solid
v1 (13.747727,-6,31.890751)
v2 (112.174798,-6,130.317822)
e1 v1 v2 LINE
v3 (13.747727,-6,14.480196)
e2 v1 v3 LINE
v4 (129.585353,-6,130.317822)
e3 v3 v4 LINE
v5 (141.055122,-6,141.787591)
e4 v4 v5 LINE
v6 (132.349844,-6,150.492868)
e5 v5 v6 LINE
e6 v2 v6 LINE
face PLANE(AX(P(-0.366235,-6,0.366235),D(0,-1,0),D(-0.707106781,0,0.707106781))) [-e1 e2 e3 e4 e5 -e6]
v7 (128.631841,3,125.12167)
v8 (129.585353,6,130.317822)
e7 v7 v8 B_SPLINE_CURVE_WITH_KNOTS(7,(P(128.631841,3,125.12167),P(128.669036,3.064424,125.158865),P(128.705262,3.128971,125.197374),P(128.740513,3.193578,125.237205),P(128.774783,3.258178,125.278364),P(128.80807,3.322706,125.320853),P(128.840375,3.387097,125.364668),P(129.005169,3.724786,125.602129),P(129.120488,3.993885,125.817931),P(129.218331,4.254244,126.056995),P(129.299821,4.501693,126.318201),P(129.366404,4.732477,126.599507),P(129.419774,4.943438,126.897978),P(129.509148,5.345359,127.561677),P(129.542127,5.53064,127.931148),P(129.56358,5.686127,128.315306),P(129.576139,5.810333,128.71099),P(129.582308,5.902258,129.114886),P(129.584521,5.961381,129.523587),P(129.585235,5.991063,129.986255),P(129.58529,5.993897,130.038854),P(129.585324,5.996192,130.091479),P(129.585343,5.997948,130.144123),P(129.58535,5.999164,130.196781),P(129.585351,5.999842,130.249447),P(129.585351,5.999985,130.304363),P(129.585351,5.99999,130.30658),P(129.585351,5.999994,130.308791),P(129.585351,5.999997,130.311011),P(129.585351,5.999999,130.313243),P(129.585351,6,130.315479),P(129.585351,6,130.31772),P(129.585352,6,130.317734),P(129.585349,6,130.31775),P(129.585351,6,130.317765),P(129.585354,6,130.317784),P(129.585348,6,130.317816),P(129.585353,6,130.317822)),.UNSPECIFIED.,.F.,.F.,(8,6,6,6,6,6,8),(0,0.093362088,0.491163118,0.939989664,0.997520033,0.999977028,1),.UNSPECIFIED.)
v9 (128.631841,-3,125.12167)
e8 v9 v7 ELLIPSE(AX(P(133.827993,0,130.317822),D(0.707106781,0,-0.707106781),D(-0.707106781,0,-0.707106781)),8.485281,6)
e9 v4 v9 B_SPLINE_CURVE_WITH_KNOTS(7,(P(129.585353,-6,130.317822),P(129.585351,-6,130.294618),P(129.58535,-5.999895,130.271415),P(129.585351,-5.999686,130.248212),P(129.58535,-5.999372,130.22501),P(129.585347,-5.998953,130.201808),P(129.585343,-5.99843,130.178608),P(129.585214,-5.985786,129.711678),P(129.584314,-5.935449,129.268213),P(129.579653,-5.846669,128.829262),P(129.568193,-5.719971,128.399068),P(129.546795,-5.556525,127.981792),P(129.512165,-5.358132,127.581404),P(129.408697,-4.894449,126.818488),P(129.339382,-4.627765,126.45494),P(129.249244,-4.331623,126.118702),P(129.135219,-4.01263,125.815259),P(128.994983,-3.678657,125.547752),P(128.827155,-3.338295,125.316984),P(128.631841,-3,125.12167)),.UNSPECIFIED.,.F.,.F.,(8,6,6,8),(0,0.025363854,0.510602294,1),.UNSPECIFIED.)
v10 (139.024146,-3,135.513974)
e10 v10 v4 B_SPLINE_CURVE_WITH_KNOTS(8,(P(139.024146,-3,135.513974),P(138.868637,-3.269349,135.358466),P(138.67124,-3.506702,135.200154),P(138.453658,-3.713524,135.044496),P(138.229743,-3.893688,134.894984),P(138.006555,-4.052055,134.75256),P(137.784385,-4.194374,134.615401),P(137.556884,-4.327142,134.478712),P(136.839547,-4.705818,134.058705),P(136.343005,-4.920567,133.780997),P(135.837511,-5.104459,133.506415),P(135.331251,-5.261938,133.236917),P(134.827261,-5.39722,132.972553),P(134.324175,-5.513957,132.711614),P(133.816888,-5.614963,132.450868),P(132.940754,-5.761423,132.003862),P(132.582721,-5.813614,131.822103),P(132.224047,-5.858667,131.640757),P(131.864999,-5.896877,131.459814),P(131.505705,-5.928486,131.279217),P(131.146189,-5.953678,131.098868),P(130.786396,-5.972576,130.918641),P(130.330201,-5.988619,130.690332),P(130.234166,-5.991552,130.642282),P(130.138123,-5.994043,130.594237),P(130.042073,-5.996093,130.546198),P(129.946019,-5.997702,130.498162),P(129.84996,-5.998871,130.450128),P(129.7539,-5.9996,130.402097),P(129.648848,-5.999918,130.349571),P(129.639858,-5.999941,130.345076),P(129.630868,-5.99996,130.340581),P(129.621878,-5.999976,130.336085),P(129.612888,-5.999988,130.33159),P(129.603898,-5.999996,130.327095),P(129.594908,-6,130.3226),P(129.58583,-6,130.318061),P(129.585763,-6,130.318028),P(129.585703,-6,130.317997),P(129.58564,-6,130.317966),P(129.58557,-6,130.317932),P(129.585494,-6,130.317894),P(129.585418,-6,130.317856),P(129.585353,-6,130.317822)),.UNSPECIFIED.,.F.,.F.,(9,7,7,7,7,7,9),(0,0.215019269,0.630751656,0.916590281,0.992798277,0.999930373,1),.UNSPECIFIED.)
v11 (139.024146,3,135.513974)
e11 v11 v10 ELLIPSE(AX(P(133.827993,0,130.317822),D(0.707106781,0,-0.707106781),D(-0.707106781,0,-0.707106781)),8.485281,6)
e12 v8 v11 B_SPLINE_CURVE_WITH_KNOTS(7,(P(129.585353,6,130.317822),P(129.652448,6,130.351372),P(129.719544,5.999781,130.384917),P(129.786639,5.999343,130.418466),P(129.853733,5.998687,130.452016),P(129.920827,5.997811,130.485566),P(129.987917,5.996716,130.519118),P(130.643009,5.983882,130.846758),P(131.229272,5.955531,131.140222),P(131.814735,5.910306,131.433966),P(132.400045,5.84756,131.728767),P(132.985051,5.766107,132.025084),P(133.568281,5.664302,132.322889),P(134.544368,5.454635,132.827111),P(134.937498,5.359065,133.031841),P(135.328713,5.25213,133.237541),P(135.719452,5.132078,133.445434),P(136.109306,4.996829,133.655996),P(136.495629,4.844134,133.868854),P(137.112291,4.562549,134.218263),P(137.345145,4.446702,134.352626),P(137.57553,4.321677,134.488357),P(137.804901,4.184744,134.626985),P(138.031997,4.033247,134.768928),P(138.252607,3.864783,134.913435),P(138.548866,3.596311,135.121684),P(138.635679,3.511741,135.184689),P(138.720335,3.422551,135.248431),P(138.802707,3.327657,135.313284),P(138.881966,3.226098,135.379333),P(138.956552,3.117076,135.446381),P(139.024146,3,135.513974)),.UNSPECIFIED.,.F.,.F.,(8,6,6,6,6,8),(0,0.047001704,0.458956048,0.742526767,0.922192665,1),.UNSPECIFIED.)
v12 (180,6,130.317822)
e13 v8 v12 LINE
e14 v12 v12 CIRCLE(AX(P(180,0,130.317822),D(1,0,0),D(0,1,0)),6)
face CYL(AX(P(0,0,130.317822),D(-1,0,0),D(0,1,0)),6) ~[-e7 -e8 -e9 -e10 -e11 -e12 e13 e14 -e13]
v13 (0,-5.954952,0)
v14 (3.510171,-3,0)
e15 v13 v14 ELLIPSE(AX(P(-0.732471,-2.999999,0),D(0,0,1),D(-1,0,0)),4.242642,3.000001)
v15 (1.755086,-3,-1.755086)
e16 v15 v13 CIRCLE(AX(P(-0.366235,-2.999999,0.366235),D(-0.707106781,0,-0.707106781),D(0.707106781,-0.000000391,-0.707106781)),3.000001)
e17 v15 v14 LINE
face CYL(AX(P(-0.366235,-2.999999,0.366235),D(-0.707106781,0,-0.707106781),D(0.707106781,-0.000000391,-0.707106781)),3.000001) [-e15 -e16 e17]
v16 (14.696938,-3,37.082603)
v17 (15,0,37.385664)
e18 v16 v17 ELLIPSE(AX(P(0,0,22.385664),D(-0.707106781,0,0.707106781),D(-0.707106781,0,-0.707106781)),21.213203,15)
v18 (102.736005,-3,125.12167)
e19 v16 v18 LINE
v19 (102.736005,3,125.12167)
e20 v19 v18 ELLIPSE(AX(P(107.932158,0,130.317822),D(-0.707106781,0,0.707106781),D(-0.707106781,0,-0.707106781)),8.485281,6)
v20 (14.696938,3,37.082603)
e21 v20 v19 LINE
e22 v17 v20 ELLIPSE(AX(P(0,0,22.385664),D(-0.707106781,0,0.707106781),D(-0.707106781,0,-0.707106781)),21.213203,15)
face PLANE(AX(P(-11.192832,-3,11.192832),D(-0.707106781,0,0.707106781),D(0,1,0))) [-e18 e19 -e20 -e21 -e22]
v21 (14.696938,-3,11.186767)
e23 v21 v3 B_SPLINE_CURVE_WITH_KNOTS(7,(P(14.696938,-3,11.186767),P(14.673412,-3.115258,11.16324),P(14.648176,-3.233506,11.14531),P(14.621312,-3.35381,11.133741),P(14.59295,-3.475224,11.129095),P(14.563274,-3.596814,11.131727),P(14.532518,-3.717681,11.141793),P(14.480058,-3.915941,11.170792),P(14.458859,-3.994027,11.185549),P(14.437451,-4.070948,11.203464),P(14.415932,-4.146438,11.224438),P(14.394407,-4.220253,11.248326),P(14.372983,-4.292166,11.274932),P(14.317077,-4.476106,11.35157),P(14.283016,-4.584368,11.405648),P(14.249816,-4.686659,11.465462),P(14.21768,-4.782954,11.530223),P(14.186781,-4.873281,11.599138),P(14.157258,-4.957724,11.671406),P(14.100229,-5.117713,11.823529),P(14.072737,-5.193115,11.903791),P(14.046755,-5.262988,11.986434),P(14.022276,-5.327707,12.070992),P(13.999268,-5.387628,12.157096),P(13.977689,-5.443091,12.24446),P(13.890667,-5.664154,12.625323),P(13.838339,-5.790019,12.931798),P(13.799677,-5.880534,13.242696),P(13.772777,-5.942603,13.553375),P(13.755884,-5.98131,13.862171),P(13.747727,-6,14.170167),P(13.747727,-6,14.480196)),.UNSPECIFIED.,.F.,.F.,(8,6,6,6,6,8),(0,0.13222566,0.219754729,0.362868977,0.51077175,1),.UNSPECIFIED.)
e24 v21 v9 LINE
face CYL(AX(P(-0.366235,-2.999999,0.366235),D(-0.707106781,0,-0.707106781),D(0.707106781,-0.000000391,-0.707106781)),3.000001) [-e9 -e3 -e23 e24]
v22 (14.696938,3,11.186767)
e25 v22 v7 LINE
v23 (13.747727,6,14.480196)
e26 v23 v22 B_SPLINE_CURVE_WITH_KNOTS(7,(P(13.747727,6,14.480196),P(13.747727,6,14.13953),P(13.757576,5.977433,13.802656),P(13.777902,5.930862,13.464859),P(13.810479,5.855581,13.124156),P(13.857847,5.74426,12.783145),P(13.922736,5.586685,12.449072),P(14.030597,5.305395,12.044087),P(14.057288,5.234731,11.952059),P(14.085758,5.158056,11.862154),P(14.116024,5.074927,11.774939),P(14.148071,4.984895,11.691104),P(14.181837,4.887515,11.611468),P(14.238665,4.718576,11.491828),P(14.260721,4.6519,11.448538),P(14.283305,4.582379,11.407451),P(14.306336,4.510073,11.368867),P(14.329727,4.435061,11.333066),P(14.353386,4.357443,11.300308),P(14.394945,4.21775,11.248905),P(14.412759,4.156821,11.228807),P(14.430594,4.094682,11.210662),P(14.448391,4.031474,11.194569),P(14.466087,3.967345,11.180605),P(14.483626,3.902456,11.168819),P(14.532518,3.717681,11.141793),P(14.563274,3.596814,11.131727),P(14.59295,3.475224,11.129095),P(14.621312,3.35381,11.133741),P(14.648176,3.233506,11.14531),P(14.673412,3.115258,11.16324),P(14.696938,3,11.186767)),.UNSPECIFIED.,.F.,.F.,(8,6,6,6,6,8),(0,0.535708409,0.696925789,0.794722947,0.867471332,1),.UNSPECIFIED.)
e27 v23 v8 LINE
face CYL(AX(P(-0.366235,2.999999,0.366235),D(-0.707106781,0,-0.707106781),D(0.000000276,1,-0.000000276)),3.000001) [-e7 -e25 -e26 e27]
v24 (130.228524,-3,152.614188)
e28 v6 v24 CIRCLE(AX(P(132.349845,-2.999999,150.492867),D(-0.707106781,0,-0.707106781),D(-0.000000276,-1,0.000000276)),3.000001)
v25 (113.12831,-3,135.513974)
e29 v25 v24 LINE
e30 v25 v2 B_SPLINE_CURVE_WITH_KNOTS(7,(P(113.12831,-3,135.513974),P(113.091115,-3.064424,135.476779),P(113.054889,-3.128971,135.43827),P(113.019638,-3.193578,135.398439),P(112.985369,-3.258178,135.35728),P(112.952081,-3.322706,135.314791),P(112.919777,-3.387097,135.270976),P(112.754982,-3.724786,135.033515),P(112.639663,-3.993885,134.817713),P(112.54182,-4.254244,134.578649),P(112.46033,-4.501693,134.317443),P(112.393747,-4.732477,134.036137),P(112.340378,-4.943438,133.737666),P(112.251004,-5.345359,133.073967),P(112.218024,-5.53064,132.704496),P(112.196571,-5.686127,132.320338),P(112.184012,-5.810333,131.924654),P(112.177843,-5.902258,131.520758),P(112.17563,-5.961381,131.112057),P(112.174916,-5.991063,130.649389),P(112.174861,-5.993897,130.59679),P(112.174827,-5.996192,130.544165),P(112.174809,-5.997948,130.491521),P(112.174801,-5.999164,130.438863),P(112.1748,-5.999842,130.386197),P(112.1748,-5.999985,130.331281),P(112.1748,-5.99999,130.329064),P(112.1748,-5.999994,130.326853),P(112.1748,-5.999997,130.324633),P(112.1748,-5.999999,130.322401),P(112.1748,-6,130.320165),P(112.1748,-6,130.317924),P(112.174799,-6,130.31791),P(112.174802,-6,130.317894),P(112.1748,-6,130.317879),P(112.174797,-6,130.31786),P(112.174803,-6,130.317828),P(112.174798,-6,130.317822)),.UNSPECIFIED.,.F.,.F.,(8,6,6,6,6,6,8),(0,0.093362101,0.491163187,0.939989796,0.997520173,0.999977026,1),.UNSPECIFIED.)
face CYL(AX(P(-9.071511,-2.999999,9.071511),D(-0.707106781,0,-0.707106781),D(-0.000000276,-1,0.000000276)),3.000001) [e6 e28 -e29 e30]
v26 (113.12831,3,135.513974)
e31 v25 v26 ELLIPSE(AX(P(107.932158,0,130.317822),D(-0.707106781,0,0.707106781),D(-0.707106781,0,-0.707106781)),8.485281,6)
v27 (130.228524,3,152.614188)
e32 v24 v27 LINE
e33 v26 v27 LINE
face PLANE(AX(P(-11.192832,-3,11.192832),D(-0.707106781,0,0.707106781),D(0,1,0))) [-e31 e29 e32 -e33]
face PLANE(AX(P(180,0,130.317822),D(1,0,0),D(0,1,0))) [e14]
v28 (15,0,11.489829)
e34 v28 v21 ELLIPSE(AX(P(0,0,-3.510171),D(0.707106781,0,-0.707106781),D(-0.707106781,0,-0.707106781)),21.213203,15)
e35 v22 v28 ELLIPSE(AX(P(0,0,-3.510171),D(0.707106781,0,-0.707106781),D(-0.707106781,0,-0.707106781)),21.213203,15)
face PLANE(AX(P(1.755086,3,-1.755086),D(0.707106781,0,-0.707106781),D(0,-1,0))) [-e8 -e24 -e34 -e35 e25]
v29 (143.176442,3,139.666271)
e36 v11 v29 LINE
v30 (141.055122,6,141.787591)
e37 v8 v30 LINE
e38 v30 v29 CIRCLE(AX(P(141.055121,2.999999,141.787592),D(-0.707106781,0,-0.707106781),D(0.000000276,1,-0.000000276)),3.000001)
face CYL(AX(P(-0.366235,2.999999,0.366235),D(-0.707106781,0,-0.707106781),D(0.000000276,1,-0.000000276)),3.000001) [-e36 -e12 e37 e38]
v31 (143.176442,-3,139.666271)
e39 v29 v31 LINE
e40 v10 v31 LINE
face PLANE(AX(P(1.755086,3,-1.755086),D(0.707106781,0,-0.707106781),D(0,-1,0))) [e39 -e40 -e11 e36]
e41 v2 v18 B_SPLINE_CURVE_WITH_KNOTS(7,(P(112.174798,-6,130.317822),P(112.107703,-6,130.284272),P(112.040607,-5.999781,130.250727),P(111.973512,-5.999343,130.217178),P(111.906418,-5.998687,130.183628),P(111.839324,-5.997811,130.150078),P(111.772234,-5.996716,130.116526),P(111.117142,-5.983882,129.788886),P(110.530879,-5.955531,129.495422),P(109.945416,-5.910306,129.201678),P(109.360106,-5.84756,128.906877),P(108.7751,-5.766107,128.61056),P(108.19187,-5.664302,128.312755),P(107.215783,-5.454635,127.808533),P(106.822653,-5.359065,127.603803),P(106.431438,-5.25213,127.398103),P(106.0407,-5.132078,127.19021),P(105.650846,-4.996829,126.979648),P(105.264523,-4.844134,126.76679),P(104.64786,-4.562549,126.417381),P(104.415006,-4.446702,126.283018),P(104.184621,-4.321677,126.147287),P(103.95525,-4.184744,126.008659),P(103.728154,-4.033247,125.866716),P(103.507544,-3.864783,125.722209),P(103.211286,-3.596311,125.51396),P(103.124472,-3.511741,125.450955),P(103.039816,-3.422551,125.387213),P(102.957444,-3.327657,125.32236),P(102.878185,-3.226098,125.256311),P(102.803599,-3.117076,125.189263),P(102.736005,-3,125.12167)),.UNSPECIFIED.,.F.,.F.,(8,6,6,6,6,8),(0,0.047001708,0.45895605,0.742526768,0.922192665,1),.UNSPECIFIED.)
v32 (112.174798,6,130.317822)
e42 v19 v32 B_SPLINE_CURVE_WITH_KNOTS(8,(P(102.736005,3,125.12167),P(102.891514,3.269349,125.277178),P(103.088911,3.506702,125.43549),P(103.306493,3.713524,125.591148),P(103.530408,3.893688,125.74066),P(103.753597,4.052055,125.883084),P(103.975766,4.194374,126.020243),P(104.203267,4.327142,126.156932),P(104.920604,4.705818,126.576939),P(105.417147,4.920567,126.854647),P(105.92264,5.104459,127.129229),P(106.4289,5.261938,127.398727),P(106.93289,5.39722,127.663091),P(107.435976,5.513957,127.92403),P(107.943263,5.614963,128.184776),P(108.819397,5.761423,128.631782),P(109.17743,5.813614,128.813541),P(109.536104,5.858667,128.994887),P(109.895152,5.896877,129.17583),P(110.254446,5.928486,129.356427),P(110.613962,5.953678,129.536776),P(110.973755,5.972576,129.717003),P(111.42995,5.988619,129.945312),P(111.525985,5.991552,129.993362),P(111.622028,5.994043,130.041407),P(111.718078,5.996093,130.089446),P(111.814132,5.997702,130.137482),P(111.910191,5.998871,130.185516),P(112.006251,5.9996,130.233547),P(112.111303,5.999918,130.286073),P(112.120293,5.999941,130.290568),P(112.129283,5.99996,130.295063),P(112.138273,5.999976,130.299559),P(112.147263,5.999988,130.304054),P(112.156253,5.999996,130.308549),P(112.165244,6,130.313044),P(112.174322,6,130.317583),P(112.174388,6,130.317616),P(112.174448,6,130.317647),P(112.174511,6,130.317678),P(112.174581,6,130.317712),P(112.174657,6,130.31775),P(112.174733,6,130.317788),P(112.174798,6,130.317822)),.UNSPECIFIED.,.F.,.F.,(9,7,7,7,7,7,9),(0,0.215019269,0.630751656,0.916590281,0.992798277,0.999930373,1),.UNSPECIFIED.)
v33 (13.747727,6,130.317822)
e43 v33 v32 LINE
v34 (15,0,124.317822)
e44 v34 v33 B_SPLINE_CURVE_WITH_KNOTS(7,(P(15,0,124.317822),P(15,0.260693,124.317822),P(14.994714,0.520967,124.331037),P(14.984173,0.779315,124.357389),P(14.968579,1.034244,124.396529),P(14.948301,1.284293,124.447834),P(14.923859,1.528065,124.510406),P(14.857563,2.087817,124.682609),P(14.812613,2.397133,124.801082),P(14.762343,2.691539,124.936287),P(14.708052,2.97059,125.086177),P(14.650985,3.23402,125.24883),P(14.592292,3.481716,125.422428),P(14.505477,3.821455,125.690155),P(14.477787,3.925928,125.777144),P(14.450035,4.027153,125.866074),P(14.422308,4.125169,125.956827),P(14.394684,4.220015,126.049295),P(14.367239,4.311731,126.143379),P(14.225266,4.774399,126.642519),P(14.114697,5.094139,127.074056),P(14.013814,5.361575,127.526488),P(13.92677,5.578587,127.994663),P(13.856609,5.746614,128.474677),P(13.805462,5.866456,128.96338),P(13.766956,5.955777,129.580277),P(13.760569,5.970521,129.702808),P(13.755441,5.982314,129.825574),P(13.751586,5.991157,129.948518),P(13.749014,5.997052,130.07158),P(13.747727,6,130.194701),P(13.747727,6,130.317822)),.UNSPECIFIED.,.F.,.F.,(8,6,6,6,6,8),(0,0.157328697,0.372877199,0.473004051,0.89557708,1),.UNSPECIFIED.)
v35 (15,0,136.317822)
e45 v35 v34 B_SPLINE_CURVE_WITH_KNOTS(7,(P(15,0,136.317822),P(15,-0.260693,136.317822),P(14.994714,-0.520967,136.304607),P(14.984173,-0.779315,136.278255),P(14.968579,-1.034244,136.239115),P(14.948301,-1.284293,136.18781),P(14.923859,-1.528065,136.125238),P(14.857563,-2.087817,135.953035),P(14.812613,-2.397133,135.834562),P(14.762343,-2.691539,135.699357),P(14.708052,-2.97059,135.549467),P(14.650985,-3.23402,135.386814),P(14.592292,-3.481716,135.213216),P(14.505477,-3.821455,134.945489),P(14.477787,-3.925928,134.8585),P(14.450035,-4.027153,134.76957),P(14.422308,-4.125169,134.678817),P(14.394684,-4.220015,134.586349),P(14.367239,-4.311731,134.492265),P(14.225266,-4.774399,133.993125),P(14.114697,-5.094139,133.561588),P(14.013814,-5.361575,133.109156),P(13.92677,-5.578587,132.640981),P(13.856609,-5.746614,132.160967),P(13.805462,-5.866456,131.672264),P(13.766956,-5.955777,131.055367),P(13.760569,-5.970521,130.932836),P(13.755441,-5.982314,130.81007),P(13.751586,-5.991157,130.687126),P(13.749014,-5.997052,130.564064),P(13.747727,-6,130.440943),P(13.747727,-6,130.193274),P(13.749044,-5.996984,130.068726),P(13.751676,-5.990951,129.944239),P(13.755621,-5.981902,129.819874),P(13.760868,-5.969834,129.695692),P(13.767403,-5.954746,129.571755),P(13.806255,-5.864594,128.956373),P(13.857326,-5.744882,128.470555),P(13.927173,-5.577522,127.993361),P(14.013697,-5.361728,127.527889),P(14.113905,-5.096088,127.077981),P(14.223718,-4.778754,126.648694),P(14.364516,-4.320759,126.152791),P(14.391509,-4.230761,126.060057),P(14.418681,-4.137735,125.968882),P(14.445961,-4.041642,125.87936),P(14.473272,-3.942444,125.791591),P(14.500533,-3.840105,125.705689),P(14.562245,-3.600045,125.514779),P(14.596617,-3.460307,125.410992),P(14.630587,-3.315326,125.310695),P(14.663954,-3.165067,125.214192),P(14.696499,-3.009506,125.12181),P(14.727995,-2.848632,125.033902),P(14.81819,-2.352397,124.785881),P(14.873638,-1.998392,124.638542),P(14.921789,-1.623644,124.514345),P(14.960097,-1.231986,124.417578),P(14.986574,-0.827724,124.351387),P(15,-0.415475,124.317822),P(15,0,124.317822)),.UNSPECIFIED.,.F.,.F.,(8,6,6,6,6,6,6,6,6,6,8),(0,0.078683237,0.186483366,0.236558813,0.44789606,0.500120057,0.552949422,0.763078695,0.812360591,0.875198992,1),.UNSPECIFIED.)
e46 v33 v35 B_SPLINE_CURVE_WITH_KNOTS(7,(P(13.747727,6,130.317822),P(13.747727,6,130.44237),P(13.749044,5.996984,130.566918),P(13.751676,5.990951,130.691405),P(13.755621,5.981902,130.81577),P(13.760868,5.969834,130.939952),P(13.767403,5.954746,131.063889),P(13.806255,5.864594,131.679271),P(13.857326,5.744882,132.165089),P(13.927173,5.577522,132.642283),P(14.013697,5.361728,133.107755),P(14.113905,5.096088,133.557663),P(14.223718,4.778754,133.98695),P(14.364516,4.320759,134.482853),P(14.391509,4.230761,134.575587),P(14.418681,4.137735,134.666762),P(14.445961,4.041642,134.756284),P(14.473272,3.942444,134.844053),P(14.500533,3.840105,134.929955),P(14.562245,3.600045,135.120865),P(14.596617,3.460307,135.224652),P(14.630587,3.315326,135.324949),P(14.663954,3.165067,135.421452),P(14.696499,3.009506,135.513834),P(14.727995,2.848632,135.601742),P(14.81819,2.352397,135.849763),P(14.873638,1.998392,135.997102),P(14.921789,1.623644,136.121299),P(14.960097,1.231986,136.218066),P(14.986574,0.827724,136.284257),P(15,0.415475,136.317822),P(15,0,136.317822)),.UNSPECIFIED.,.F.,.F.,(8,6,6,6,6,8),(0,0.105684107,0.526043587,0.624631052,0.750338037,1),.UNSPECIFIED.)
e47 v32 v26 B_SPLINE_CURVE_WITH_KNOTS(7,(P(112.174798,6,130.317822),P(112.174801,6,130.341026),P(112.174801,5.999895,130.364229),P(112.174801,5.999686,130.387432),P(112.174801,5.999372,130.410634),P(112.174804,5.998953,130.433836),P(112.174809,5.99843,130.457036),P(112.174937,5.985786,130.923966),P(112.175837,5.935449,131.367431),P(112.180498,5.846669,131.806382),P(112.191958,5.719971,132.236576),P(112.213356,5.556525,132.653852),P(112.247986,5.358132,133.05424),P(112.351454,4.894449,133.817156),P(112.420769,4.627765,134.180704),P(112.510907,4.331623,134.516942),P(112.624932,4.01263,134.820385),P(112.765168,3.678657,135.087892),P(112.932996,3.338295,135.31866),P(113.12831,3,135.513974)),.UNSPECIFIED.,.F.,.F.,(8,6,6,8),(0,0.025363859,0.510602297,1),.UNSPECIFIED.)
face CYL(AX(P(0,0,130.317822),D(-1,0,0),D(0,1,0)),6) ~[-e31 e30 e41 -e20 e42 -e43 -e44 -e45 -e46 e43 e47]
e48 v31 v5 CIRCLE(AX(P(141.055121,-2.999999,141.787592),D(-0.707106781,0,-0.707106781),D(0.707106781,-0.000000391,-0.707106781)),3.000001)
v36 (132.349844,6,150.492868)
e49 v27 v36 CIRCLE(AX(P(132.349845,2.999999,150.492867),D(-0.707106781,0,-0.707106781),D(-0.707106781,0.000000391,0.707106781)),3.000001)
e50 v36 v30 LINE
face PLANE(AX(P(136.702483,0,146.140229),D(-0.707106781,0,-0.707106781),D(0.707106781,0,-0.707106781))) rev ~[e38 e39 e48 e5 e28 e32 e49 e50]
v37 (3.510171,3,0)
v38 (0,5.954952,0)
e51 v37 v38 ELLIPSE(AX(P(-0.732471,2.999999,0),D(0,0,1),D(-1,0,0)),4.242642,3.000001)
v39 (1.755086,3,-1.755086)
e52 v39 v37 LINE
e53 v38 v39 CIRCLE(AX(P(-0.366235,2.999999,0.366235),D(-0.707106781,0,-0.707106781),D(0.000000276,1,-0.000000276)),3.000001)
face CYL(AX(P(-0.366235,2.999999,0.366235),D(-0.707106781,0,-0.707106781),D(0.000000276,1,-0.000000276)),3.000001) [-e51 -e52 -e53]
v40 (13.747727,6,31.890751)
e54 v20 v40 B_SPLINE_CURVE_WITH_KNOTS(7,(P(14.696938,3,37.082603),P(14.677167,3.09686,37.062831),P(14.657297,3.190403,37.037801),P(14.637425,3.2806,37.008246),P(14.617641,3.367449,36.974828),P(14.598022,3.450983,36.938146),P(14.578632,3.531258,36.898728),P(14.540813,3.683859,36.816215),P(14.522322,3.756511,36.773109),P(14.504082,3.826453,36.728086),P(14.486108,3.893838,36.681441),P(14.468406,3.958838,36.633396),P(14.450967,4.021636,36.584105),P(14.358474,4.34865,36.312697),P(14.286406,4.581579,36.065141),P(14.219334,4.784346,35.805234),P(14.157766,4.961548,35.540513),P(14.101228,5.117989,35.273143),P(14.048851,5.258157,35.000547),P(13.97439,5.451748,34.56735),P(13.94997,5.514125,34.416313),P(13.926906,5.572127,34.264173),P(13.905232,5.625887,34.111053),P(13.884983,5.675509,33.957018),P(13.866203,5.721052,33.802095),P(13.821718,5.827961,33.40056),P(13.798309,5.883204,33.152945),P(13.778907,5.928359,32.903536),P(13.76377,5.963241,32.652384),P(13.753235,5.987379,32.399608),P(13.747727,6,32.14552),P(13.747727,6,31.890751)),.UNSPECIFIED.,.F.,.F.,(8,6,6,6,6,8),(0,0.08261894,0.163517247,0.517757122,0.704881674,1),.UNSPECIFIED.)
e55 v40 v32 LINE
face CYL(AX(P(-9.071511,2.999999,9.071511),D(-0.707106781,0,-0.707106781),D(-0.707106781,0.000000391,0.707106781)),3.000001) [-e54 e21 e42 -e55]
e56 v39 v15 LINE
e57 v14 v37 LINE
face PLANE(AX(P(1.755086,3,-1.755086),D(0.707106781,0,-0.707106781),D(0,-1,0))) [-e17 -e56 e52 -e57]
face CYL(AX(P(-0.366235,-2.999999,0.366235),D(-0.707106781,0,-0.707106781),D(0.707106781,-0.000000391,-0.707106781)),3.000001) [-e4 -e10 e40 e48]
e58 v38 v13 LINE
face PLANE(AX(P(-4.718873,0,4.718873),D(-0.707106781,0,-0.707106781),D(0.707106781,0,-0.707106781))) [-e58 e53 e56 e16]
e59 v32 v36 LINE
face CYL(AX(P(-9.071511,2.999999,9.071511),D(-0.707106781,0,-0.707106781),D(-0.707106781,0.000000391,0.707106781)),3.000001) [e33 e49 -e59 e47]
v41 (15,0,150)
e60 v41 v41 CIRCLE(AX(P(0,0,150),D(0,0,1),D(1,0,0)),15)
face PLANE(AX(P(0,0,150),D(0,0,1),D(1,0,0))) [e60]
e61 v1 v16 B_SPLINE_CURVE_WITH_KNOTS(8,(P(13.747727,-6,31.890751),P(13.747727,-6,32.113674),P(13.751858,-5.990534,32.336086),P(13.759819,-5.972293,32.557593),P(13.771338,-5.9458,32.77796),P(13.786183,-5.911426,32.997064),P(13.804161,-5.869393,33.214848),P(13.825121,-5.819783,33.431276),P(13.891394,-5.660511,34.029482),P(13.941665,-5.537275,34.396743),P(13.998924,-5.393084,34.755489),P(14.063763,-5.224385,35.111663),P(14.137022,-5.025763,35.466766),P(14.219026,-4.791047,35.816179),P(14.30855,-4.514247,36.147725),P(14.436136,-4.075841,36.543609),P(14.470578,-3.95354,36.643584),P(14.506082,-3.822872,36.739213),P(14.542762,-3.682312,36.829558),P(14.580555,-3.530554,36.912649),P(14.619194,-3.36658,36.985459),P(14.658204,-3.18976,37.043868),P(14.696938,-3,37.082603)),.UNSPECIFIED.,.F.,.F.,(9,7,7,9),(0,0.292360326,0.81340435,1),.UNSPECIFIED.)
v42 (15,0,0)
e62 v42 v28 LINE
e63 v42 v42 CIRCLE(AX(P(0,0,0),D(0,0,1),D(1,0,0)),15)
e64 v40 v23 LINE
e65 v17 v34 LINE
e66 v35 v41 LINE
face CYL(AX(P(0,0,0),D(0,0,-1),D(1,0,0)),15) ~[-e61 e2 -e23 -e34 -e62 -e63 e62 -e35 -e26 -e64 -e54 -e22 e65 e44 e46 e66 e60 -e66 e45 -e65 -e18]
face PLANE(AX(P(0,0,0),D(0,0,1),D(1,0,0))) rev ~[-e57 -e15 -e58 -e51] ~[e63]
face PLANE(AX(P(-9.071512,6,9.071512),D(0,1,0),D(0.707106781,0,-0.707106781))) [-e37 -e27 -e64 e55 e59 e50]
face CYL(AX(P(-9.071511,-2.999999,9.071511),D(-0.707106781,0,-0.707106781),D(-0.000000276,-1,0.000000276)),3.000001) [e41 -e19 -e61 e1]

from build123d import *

# Parameters (mm, degrees)
F0_R     = 15
F1_DEPTH = 150
F2_R     = 6
F3_DEPTH = 180
F7_DEPTH = 200


with BuildPart() as f1:
    # F0 (on Top) → F1 (new body)
    with BuildSketch(Plane.XY):
        Circle(F0_R)
    extrude(amount=F1_DEPTH)

    # F2 (on Right) → F3 (join)
    with BuildSketch(Plane.YZ):
        with Locations((0, 130.317822)):
            Circle(F2_R)
    extrude(amount=F3_DEPTH)

    # F6 (on face) → F7 (join)
    with BuildSketch(Plane(origin=(0, 0, 0), x_dir=(0.707107, 0, -0.707107), z_dir=(-0.707107, 0, -0.707107))):
        with BuildLine():
            Line((-0.517934, 6), (-12.829055, 6))
            ThreePointArc((-12.829055, 6), (-14.950375, 5.12132), (-15.829055, 3))
            Line((-15.829055, 3), (-15.829055, -3))
            ThreePointArc((-15.829055, -3), (-14.950375, -5.12132), (-12.829055, -6))
            Line((-12.829055, -6), (-0.517934, -6))
            ThreePointArc((-0.517934, -6), (1.603386, -5.12132), (2.482066, -3))
            Line((2.482066, -3), (2.482066, 3))
            ThreePointArc((2.482066, 3), (1.603386, 5.12132), (-0.517934, 6))
        make_face()
    extrude(amount=-F7_DEPTH)


solid = f1.part
